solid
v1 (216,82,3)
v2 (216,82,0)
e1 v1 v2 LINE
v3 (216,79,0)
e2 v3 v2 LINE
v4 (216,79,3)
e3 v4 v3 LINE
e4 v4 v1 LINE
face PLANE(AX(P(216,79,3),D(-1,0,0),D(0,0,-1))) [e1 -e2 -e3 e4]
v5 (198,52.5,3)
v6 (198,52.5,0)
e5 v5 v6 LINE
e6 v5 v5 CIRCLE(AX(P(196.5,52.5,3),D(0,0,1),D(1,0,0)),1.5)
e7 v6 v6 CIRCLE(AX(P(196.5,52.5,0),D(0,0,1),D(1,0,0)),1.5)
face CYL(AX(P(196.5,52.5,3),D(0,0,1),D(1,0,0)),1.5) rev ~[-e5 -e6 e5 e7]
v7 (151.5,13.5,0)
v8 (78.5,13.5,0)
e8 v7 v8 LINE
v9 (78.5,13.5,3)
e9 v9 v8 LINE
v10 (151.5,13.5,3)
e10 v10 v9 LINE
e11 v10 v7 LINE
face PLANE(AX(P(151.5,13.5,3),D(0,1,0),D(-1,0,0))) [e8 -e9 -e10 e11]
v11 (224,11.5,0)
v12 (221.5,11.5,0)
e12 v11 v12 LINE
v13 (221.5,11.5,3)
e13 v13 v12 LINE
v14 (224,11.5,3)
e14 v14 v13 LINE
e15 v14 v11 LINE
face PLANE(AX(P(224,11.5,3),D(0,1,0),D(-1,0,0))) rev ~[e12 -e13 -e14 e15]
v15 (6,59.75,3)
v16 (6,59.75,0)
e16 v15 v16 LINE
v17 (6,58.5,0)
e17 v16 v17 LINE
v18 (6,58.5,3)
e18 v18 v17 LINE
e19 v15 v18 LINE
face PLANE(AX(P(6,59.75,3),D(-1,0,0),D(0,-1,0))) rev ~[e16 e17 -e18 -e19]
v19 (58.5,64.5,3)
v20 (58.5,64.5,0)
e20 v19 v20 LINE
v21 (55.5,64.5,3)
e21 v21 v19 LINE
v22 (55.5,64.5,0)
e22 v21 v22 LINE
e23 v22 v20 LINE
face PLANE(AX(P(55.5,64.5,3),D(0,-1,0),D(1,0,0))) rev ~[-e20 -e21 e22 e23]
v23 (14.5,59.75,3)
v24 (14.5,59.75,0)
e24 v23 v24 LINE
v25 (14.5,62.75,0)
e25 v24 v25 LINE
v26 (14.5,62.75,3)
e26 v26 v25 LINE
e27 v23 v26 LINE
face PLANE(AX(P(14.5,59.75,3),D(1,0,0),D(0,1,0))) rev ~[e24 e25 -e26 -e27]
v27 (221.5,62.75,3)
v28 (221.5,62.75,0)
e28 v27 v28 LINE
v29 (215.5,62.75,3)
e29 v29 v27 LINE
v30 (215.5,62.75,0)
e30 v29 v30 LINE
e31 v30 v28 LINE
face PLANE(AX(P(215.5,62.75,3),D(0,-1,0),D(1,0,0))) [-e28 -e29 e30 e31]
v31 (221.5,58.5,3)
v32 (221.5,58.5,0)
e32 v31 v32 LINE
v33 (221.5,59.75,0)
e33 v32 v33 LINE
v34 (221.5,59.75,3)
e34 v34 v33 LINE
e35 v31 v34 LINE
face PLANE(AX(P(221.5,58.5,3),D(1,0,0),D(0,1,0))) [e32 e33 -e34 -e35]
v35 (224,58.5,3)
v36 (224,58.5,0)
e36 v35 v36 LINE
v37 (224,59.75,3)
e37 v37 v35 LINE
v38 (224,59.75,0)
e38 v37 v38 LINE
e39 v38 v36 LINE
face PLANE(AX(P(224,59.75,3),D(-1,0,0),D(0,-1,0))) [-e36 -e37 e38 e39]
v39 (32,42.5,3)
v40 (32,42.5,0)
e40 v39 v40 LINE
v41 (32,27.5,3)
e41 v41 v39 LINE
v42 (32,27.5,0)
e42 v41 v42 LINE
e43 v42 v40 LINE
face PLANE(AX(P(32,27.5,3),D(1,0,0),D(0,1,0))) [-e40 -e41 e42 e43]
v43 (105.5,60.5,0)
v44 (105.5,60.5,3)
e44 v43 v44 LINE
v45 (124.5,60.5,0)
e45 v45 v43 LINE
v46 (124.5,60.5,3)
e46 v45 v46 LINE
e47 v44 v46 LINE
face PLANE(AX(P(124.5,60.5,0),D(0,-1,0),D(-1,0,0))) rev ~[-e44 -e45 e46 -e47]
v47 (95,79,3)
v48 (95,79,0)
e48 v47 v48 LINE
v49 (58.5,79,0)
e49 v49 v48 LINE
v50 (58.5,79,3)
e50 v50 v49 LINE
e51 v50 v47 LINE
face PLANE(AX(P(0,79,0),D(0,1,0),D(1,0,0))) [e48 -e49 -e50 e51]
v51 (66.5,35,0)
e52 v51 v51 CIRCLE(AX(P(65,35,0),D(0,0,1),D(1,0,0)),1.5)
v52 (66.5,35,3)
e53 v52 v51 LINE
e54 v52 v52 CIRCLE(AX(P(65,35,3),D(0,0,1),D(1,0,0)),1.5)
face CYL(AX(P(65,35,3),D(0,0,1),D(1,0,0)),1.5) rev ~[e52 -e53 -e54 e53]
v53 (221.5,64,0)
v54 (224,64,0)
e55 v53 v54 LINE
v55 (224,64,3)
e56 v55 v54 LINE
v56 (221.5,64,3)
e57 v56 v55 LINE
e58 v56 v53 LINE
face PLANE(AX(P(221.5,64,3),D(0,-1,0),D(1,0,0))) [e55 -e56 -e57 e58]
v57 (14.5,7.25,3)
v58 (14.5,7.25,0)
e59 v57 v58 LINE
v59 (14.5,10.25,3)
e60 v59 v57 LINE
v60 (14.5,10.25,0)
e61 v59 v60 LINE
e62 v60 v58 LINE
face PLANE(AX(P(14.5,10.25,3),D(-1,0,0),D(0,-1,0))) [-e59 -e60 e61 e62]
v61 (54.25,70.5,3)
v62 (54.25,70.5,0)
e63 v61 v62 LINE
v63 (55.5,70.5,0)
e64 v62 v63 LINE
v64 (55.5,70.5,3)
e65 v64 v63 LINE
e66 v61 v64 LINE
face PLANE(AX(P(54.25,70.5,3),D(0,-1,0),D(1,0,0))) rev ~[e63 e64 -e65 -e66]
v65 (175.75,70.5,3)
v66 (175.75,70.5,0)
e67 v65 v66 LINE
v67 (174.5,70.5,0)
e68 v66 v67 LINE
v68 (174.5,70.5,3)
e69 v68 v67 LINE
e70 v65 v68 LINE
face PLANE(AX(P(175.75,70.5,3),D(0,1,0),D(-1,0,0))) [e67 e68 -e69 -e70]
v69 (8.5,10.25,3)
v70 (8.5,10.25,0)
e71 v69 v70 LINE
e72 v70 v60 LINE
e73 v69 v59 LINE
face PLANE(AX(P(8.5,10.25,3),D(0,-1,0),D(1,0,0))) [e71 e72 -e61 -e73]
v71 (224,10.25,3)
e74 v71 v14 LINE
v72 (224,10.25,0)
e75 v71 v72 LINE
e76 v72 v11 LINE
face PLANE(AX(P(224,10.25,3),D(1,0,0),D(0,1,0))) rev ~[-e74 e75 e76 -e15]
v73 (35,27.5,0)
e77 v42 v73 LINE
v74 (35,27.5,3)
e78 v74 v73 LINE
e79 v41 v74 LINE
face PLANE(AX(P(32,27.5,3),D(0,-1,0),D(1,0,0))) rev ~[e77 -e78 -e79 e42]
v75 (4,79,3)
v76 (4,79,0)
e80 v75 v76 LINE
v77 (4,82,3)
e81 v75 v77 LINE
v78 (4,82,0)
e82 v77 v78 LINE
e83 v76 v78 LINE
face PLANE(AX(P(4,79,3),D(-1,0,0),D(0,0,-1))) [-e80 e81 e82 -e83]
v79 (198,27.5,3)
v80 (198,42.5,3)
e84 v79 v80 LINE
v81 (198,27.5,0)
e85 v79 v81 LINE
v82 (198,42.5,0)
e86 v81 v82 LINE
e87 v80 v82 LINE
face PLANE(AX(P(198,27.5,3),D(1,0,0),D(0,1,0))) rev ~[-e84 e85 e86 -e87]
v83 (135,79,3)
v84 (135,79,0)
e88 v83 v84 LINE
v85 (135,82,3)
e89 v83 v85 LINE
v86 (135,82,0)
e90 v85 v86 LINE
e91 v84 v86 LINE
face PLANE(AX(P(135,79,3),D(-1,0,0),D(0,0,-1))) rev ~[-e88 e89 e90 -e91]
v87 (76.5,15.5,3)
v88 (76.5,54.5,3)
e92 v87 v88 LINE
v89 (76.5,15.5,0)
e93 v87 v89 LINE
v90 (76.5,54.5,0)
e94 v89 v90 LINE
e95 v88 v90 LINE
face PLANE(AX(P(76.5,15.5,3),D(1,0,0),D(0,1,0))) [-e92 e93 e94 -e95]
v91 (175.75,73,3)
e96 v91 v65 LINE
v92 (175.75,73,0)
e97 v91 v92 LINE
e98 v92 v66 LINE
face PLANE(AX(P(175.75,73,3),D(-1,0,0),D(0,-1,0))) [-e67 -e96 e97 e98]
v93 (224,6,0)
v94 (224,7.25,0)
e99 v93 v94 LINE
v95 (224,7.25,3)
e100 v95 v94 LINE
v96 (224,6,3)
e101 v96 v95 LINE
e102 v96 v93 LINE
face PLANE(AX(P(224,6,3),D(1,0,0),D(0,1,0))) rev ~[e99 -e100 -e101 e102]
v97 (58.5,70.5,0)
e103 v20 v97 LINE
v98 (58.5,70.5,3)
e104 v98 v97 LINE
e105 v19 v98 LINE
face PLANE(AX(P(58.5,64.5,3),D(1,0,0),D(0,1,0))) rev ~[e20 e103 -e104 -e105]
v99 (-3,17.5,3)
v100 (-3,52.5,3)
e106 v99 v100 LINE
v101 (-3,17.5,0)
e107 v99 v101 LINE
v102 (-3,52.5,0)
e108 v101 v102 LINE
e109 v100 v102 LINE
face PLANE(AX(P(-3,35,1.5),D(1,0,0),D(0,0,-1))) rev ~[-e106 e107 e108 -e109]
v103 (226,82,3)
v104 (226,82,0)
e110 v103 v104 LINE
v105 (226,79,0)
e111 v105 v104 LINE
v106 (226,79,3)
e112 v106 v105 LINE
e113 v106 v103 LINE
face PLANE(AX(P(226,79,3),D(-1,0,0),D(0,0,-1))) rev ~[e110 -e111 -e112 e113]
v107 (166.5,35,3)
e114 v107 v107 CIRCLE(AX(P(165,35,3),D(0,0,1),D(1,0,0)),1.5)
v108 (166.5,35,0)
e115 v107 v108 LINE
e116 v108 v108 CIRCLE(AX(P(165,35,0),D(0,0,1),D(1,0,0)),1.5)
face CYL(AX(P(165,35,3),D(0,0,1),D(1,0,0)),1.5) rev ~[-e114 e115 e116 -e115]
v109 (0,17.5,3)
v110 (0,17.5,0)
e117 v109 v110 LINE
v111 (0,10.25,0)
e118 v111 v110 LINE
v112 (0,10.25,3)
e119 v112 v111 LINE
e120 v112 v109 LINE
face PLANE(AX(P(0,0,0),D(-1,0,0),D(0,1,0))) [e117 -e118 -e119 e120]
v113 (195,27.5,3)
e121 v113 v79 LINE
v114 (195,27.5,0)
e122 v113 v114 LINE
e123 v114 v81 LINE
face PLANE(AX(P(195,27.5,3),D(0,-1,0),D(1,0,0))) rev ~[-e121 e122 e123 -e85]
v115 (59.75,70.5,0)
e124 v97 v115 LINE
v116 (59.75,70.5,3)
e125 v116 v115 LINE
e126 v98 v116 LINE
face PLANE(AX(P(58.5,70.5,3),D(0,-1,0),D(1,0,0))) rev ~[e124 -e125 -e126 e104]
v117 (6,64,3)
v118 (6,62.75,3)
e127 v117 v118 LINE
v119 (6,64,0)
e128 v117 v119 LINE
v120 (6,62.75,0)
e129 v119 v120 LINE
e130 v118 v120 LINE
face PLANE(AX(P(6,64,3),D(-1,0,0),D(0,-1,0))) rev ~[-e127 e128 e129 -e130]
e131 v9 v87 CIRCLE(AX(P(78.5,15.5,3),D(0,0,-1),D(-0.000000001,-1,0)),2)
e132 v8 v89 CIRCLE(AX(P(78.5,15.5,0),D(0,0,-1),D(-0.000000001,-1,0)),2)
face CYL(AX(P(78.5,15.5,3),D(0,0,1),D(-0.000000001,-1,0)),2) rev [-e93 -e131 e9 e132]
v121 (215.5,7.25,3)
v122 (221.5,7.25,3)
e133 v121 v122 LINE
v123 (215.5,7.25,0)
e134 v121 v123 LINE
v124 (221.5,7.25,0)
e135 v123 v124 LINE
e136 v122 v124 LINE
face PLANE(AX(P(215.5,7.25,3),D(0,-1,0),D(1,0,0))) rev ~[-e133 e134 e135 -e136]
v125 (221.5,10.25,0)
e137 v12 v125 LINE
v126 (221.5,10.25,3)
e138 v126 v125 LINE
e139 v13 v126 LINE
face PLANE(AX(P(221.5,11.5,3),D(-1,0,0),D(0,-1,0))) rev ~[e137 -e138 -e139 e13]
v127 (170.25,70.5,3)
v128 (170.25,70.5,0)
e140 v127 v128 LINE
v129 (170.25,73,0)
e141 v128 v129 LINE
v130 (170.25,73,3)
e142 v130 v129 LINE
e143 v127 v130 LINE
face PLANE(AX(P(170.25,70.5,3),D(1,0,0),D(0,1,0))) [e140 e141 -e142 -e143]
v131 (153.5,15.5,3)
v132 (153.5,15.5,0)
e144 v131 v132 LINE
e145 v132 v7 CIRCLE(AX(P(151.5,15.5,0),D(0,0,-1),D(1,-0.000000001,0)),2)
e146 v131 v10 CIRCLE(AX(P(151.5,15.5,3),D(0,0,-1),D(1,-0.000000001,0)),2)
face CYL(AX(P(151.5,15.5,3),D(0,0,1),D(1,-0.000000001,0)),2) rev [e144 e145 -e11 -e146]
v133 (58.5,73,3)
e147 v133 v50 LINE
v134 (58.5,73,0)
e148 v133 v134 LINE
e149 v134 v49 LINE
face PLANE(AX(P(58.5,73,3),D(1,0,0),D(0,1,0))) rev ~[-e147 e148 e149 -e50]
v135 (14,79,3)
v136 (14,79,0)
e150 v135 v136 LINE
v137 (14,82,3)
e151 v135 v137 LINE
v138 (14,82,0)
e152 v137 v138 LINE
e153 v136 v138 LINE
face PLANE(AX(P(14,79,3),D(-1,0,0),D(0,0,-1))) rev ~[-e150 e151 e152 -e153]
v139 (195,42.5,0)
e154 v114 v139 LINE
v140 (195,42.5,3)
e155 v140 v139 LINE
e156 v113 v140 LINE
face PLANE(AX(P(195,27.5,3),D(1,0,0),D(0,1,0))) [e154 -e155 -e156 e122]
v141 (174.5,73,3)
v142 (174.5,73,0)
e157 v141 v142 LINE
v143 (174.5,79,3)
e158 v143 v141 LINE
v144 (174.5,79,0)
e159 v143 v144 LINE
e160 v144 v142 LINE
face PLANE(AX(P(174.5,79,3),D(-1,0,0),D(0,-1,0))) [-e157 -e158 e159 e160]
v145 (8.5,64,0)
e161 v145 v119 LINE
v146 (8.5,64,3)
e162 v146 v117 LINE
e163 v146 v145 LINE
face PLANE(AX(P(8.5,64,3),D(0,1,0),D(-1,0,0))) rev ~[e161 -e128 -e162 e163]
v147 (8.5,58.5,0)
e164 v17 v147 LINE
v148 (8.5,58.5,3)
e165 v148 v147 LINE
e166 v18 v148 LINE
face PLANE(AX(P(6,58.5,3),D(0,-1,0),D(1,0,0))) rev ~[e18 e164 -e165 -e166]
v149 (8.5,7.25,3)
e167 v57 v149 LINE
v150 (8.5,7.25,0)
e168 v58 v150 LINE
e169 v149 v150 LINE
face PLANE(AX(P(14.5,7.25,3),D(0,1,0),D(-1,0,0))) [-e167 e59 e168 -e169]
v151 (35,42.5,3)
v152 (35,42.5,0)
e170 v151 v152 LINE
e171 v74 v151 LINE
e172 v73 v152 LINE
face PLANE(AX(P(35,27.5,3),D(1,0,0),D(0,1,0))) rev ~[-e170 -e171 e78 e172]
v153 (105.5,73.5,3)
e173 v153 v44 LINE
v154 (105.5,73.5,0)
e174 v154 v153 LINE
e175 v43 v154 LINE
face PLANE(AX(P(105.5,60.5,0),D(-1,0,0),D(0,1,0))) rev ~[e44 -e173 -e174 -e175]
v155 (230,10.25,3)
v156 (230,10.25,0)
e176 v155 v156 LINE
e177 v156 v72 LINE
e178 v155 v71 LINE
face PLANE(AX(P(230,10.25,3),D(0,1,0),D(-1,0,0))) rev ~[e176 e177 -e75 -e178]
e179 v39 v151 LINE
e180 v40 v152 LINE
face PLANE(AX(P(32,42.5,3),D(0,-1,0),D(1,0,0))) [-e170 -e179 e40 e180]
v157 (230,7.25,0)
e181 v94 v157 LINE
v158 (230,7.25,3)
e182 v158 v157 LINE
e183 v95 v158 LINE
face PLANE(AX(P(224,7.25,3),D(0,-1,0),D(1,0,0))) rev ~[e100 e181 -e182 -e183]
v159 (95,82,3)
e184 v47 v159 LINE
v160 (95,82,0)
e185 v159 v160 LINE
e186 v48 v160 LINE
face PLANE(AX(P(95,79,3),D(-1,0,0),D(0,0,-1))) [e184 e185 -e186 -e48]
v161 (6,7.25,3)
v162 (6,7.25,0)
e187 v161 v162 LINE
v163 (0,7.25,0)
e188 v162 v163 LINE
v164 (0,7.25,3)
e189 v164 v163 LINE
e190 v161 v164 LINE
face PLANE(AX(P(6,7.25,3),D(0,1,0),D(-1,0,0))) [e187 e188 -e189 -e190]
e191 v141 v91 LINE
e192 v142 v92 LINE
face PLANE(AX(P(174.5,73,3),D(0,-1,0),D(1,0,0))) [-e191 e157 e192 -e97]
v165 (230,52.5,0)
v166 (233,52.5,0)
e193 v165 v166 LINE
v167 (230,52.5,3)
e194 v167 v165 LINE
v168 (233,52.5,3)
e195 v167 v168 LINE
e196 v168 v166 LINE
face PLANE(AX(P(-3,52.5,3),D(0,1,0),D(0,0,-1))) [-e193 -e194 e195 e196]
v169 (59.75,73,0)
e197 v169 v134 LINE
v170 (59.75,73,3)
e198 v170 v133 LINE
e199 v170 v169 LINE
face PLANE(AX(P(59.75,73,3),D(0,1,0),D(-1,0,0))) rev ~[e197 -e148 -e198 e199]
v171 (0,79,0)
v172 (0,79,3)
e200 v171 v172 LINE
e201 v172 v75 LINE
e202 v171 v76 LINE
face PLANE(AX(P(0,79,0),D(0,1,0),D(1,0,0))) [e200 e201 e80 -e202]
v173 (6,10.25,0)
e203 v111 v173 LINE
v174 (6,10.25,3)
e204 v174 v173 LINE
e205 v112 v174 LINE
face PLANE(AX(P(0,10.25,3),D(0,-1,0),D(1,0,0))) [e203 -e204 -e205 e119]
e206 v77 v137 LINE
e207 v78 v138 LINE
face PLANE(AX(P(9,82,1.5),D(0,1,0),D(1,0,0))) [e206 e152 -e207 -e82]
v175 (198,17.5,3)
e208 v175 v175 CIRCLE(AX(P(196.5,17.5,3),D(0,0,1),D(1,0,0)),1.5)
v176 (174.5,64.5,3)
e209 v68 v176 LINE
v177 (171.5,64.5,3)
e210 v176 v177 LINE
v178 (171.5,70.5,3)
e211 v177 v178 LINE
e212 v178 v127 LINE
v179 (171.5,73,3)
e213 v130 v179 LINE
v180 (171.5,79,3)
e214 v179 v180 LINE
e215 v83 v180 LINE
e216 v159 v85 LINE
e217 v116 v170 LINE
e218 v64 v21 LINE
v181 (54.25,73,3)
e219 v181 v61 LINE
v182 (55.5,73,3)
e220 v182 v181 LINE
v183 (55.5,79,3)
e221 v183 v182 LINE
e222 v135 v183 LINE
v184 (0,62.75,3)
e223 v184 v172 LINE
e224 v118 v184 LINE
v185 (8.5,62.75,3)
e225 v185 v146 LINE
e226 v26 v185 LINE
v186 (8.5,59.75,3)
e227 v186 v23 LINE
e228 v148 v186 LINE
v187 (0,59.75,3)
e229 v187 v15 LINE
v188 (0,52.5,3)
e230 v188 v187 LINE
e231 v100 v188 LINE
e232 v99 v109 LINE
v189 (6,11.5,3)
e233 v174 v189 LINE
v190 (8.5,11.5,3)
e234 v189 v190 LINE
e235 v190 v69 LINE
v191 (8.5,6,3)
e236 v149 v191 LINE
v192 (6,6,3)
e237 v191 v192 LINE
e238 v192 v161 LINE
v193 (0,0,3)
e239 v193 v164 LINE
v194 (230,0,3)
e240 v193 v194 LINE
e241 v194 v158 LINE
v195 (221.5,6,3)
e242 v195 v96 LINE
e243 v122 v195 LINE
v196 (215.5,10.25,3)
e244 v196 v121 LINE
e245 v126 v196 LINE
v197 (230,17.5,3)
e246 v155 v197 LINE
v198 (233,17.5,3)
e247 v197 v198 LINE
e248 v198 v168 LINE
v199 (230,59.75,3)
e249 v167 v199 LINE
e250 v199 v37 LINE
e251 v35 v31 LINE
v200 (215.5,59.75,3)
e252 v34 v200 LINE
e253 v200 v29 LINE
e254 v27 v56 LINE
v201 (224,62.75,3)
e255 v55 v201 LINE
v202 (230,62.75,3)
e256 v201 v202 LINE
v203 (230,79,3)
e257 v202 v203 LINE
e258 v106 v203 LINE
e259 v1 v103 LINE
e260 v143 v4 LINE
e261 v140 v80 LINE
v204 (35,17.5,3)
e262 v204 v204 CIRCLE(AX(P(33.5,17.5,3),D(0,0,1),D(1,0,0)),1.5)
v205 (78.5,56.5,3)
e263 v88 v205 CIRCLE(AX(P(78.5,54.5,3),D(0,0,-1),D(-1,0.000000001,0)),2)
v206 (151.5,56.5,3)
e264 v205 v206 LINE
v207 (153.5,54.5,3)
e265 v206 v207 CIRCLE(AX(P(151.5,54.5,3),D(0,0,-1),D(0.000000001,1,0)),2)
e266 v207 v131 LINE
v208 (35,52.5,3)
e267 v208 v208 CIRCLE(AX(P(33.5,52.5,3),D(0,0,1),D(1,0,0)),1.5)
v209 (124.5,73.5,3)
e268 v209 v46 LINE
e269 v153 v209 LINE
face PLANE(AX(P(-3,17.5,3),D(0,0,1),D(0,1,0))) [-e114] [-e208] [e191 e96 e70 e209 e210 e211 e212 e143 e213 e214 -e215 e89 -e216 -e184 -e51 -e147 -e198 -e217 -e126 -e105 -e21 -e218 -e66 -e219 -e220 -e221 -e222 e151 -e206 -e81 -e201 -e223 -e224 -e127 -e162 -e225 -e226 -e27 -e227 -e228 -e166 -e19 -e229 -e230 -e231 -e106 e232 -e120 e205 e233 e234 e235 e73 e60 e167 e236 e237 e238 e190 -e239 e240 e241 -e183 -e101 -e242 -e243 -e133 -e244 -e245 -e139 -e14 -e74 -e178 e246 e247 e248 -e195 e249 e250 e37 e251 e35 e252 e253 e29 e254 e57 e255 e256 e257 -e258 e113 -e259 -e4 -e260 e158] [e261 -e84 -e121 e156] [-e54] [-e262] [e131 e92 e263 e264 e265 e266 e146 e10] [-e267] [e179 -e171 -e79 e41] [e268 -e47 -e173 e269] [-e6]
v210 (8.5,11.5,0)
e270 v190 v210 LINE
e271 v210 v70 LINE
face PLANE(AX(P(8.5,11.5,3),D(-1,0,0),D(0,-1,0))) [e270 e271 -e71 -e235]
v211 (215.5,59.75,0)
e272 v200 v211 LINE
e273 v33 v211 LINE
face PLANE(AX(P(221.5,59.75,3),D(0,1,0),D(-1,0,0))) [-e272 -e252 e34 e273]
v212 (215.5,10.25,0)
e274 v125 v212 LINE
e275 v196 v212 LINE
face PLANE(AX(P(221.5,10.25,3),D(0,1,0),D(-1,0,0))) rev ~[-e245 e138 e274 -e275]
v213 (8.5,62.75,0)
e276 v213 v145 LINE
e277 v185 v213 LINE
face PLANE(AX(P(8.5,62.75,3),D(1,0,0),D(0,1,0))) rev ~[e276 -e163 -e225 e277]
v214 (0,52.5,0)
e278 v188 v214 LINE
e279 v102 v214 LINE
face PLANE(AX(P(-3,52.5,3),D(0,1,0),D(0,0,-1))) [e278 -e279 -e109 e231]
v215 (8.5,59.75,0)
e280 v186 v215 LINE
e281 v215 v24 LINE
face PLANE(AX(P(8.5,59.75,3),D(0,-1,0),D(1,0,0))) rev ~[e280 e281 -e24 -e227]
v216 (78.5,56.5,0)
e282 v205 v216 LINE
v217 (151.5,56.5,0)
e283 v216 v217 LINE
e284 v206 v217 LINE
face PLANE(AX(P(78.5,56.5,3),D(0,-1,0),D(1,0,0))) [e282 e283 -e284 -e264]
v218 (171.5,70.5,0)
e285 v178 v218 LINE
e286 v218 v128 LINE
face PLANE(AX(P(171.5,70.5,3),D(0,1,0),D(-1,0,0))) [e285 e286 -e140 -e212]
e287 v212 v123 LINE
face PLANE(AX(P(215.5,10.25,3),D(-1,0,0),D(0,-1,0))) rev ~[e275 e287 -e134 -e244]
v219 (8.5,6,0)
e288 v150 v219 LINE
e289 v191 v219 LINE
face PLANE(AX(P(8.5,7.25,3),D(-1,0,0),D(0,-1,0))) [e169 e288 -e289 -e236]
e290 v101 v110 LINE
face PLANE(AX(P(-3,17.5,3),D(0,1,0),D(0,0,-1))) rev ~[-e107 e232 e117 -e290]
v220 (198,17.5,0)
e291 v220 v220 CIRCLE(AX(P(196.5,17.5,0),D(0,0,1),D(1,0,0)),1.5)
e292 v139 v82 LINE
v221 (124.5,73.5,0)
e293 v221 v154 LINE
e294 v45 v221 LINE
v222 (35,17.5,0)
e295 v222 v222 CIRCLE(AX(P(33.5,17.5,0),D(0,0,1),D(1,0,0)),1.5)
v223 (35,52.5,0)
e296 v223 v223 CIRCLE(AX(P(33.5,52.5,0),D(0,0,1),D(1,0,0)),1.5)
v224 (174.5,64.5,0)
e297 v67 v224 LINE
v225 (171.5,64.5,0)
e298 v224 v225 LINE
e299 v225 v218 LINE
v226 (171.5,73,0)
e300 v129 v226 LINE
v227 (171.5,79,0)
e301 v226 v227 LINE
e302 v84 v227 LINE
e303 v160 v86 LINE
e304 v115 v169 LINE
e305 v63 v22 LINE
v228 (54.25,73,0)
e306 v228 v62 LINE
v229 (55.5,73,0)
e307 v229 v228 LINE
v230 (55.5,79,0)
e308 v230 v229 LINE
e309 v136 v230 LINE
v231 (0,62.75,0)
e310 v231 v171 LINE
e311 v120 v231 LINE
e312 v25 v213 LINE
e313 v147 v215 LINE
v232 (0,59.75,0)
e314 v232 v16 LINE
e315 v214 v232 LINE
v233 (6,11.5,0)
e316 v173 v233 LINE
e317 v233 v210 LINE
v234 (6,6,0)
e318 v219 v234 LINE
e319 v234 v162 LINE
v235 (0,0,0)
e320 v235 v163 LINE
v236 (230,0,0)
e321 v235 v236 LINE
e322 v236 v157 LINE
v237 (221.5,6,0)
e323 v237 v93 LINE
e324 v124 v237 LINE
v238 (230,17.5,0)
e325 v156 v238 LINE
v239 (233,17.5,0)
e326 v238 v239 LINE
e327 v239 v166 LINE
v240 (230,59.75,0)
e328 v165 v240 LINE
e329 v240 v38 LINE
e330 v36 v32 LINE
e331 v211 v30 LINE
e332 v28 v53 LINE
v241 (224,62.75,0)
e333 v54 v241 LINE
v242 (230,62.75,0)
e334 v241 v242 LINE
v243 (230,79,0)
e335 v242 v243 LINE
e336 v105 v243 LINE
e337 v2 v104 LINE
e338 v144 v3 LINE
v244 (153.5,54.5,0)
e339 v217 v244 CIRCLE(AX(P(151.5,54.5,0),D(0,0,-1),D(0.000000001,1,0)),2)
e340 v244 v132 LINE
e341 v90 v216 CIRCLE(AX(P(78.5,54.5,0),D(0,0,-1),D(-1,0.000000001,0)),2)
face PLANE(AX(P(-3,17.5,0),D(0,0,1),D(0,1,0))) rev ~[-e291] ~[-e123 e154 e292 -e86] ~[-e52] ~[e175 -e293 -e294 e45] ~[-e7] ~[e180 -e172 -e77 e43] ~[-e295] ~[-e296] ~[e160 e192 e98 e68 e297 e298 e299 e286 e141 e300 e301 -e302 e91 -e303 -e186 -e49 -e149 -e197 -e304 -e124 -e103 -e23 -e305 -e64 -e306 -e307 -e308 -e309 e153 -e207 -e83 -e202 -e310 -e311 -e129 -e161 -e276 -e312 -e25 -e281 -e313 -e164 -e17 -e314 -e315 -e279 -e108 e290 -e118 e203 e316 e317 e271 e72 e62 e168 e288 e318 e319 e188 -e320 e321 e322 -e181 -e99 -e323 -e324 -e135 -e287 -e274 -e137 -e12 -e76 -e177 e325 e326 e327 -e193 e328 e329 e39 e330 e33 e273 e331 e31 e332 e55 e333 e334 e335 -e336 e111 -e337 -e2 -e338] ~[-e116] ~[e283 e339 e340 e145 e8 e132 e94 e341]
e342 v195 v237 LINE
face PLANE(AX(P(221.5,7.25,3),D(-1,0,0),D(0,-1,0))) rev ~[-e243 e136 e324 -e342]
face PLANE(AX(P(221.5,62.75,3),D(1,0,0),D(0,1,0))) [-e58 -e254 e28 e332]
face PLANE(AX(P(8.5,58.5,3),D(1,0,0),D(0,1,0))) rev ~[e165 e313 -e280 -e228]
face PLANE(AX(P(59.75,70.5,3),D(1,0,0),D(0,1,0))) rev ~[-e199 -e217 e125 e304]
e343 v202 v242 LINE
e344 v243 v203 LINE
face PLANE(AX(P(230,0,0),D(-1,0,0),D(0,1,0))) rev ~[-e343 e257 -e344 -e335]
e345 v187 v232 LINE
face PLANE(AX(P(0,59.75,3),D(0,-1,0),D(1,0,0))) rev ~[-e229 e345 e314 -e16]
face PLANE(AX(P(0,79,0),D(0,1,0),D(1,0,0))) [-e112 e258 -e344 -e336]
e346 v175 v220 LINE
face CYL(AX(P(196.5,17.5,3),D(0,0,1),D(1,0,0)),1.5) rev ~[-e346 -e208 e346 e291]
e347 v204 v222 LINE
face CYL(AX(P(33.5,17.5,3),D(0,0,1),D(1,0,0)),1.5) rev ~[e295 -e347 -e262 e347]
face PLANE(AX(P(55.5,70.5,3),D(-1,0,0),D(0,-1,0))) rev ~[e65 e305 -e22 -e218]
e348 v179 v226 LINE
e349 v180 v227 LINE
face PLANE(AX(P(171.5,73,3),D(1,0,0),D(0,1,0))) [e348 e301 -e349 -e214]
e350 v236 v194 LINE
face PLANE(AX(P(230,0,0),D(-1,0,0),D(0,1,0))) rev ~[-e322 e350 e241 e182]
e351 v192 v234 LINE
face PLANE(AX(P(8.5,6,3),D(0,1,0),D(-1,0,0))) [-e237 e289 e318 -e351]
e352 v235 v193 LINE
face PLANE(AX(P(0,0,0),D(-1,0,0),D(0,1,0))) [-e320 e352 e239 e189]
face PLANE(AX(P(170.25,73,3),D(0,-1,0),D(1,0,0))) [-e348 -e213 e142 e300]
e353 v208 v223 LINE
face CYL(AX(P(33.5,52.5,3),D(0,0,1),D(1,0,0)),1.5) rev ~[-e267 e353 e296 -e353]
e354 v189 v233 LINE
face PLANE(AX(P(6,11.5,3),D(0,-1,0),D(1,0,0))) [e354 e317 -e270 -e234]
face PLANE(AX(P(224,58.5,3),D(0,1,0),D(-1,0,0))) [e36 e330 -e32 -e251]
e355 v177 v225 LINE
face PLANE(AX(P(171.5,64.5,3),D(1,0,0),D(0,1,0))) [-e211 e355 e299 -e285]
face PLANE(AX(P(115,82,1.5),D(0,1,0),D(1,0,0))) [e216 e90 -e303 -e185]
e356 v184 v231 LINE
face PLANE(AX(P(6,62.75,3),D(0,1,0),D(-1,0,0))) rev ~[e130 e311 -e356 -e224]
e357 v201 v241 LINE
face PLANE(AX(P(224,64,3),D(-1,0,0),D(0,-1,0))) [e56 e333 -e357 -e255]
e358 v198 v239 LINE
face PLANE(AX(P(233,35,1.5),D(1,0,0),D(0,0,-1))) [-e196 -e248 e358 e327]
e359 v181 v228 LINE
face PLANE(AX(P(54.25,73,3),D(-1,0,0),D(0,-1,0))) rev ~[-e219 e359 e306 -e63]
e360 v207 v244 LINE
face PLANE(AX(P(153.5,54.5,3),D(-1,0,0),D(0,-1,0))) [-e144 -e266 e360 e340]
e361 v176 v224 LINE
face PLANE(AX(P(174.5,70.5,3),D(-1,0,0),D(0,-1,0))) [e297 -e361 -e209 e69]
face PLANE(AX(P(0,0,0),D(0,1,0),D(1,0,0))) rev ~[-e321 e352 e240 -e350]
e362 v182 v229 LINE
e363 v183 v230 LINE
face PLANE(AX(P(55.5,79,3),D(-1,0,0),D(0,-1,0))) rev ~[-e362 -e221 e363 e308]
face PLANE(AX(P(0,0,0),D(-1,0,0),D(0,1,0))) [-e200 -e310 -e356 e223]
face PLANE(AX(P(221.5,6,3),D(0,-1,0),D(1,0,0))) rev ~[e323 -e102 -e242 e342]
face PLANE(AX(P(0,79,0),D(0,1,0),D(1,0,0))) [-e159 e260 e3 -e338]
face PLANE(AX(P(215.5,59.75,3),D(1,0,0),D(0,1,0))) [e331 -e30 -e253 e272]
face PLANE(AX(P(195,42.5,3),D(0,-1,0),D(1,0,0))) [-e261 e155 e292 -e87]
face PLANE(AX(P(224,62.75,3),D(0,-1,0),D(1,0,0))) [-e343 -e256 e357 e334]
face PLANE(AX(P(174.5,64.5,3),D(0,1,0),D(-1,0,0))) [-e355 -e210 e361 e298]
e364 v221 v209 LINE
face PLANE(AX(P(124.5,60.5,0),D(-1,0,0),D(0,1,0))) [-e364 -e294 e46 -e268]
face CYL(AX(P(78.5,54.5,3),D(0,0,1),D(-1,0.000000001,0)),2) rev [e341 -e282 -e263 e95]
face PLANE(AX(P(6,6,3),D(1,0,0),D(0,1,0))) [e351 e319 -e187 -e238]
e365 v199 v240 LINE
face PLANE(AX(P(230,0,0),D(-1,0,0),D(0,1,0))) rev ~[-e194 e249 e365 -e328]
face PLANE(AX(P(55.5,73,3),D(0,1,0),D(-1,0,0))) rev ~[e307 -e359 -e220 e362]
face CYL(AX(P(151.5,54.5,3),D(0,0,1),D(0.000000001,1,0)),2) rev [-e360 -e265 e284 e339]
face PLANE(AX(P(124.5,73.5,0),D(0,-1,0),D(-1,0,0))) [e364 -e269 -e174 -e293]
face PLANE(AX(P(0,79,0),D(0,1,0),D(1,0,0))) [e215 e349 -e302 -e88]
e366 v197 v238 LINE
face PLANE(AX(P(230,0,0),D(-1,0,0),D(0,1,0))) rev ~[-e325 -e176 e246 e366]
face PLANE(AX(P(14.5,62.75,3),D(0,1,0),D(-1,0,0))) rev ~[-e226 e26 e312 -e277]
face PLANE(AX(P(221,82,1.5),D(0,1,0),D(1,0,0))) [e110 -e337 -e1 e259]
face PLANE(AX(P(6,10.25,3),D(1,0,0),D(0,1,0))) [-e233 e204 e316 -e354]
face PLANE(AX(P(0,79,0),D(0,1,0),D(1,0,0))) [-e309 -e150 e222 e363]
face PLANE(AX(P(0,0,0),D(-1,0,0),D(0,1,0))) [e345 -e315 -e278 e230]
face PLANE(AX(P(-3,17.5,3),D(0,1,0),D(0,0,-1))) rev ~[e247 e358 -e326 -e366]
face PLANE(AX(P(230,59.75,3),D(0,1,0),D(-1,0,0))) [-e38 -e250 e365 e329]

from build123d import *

# Parameters (mm, degrees)
SKETCH_1_W           = 230
SKETCH_1_H           = 79
EXTRUDE_1_DEPTH      = 3
EXTRUDE_2_DEPTH      = 3
EXTRUDE_2_DEPTH_BACK = 233
SKETCH_4_W           = 3
SKETCH_4_H           = 35
SKETCH_2_R           = 1.5
CUT_EXTRUDE_1_DEPTH  = 3
SKETCH_3_R           = 1.5
CUT_EXTRUDE_2_DEPTH  = 3
SKETCH_5_W           = 3
SKETCH_5_H           = 15
CUT_EXTRUDE_3_DEPTH  = 3
CUT_EXTRUDE_4_DEPTH  = 3
SKETCH_8_W           = 10
SKETCH_8_H           = 3
EXTRUDE_3_DEPTH      = 3
SKETCH_9_W           = 40
SKETCH_9_H           = 3
EXTRUDE_4_DEPTH      = 3
CUT_EXTRUDE_5_DEPTH  = 3
CUT_EXTRUDE_6_DEPTH  = 3
SKETCH_12_W          = 19
SKETCH_12_H          = 13
CUT_EXTRUDE_7_DEPTH  = 10


with BuildPart() as part:
    # Эскиз1 → Бобышка-Вытянуть1 (new body)
    with BuildSketch(Plane.XY):
        with Locations((115, 39.5)):
            Rectangle(SKETCH_1_W, SKETCH_1_H)
    extrude(amount=EXTRUDE_1_DEPTH)

    # Эскиз4 → Бобышка-Вытянуть2 (add, two sides: drawn at the far end of the back side and taken through both)
    with BuildSketch(Plane(origin=(230, 0, 0), x_dir=(0, 0, -1), z_dir=(1, 0, 0)).offset(-EXTRUDE_2_DEPTH_BACK)):
        with Locations((-1.5, 35)):
            Rectangle(SKETCH_4_W, SKETCH_4_H)
    extrude(amount=EXTRUDE_2_DEPTH + EXTRUDE_2_DEPTH_BACK)

    # Эскиз2 → Вырез-Вытянуть1 (cut)
    with BuildSketch(Plane.XY.offset(3)):
        with Locations((65, 35)):
            Circle(SKETCH_2_R)
        with Locations((165, 35)):
            Circle(SKETCH_2_R)
    extrude(amount=-CUT_EXTRUDE_1_DEPTH, mode=Mode.SUBTRACT)

    # Эскиз3 → Вырез-Вытянуть2 (cut)
    with BuildSketch(Plane.XY.offset(3)):
        with Locations((33.5, 52.5)):
            Circle(SKETCH_3_R)
        with Locations((196.5, 52.5)):
            Circle(SKETCH_3_R)
        with Locations((196.5, 17.5)):
            Circle(SKETCH_3_R)
        with Locations((33.5, 17.5)):
            Circle(SKETCH_3_R)
    extrude(amount=-CUT_EXTRUDE_2_DEPTH, mode=Mode.SUBTRACT)

    # Эскиз5 → Вырез-Вытянуть3 (cut)
    with BuildSketch(Plane.XY.offset(3)):
        with Locations((33.5, 35)):
            Rectangle(SKETCH_5_W, SKETCH_5_H)
        with Locations((196.5, 35)):
            Rectangle(SKETCH_5_W, SKETCH_5_H)
    extrude(amount=-CUT_EXTRUDE_3_DEPTH, mode=Mode.SUBTRACT)

    # Эскиз6 → Вырез-Вытянуть4 (cut)
    with BuildSketch(Plane.XY.offset(3)):
        Polygon((0, 10.25), (6, 10.25), (6, 11.5), (8.5, 11.5), (8.5, 10.25), (14.5, 10.25), (14.5, 7.25), (8.5, 7.25), (8.5, 6), (6, 6), (6, 7.25), (0, 7.25), align=None)
        Polygon((230, 7.25), (230, 10.25), (224, 10.25), (224, 11.5), (221.5, 11.5), (221.5, 10.25), (215.5, 10.25), (215.5, 7.25), (221.5, 7.25), (221.5, 6), (224, 6), (224, 7.25), align=None)
        Polygon((230, 59.75), (224, 59.75), (224, 58.5), (221.5, 58.5), (221.5, 59.75), (215.5, 59.75), (215.5, 62.75), (221.5, 62.75), (221.5, 64), (224, 64), (224, 62.75), (230, 62.75), align=None)
        Polygon((0, 62.75), (0, 59.75), (6, 59.75), (6, 58.5), (8.5, 58.5), (8.5, 59.75), (14.5, 59.75), (14.5, 62.75), (8.5, 62.75), (8.5, 64), (6, 64), (6, 62.75), align=None)
    extrude(amount=-CUT_EXTRUDE_4_DEPTH, mode=Mode.SUBTRACT)

    # Эскиз8 → Бобышка-Вытянуть3 (add)
    with BuildSketch(Plane(origin=(0, 79, 0), x_dir=(1, 0, 0), z_dir=(0, 1, 0))):
        with Locations((221, -1.5)):
            Rectangle(SKETCH_8_W, SKETCH_8_H)
        with Locations((9, -1.5)):
            Rectangle(SKETCH_8_W, SKETCH_8_H)
    extrude(amount=EXTRUDE_3_DEPTH)

    # Эскиз9 → Бобышка-Вытянуть4 (add)
    with BuildSketch(Plane(origin=(0, 79, 0), x_dir=(1, 0, 0), z_dir=(0, 1, 0))):
        with Locations((115, -1.5)):
            Rectangle(SKETCH_9_W, SKETCH_9_H)
    extrude(amount=EXTRUDE_4_DEPTH)

    # Эскиз10 → Вырез-Вытянуть5 (cut)
    with BuildSketch(Plane.XY.offset(3)):
        Polygon((55.5, 79), (55.5, 73), (54.25, 73), (54.25, 70.5), (55.5, 70.5), (55.5, 64.5), (58.5, 64.5), (58.5, 70.5), (59.75, 70.5), (59.75, 73), (58.5, 73), (58.5, 79), align=None)
        Polygon((171.5, 79), (174.5, 79), (174.5, 73), (175.75, 73), (175.75, 70.5), (174.5, 70.5), (174.5, 64.5), (171.5, 64.5), (171.5, 70.5), (170.25, 70.5), (170.25, 73), (171.5, 73), align=None)
    extrude(amount=-CUT_EXTRUDE_5_DEPTH, mode=Mode.SUBTRACT)

    # Эскиз11 → Вырез-Вытянуть6 (cut)
    with BuildSketch(Plane.XY.offset(3)):
        with BuildLine():
            Line((78.5, 56.5), (151.5, 56.5))
            ThreePointArc((151.5, 56.5), (152.914213562, 55.914213562), (153.5, 54.5))
            Line((153.5, 54.5), (153.5, 15.5))
            ThreePointArc((153.5, 15.5), (152.914213562, 14.085786438), (151.5, 13.5))
            Line((151.5, 13.5), (78.5, 13.5))
            ThreePointArc((78.5, 13.5), (77.085786438, 14.085786438), (76.5, 15.5))
            Line((76.5, 15.5), (76.5, 54.5))
            ThreePointArc((76.5, 54.5), (77.085786438, 55.914213562), (78.5, 56.5))
        make_face()
    extrude(amount=-CUT_EXTRUDE_6_DEPTH, mode=Mode.SUBTRACT)

    # Эскиз12 → Вырез-Вытянуть7 (cut)
    with BuildSketch(Plane(origin=(0, 0, 0), x_dir=(-1, 0, 0), z_dir=(0, 0, -1))):
        with Locations((-115, 67)):
            Rectangle(SKETCH_12_W, SKETCH_12_H)
    extrude(amount=-CUT_EXTRUDE_7_DEPTH, mode=Mode.SUBTRACT)


solid = part.part
